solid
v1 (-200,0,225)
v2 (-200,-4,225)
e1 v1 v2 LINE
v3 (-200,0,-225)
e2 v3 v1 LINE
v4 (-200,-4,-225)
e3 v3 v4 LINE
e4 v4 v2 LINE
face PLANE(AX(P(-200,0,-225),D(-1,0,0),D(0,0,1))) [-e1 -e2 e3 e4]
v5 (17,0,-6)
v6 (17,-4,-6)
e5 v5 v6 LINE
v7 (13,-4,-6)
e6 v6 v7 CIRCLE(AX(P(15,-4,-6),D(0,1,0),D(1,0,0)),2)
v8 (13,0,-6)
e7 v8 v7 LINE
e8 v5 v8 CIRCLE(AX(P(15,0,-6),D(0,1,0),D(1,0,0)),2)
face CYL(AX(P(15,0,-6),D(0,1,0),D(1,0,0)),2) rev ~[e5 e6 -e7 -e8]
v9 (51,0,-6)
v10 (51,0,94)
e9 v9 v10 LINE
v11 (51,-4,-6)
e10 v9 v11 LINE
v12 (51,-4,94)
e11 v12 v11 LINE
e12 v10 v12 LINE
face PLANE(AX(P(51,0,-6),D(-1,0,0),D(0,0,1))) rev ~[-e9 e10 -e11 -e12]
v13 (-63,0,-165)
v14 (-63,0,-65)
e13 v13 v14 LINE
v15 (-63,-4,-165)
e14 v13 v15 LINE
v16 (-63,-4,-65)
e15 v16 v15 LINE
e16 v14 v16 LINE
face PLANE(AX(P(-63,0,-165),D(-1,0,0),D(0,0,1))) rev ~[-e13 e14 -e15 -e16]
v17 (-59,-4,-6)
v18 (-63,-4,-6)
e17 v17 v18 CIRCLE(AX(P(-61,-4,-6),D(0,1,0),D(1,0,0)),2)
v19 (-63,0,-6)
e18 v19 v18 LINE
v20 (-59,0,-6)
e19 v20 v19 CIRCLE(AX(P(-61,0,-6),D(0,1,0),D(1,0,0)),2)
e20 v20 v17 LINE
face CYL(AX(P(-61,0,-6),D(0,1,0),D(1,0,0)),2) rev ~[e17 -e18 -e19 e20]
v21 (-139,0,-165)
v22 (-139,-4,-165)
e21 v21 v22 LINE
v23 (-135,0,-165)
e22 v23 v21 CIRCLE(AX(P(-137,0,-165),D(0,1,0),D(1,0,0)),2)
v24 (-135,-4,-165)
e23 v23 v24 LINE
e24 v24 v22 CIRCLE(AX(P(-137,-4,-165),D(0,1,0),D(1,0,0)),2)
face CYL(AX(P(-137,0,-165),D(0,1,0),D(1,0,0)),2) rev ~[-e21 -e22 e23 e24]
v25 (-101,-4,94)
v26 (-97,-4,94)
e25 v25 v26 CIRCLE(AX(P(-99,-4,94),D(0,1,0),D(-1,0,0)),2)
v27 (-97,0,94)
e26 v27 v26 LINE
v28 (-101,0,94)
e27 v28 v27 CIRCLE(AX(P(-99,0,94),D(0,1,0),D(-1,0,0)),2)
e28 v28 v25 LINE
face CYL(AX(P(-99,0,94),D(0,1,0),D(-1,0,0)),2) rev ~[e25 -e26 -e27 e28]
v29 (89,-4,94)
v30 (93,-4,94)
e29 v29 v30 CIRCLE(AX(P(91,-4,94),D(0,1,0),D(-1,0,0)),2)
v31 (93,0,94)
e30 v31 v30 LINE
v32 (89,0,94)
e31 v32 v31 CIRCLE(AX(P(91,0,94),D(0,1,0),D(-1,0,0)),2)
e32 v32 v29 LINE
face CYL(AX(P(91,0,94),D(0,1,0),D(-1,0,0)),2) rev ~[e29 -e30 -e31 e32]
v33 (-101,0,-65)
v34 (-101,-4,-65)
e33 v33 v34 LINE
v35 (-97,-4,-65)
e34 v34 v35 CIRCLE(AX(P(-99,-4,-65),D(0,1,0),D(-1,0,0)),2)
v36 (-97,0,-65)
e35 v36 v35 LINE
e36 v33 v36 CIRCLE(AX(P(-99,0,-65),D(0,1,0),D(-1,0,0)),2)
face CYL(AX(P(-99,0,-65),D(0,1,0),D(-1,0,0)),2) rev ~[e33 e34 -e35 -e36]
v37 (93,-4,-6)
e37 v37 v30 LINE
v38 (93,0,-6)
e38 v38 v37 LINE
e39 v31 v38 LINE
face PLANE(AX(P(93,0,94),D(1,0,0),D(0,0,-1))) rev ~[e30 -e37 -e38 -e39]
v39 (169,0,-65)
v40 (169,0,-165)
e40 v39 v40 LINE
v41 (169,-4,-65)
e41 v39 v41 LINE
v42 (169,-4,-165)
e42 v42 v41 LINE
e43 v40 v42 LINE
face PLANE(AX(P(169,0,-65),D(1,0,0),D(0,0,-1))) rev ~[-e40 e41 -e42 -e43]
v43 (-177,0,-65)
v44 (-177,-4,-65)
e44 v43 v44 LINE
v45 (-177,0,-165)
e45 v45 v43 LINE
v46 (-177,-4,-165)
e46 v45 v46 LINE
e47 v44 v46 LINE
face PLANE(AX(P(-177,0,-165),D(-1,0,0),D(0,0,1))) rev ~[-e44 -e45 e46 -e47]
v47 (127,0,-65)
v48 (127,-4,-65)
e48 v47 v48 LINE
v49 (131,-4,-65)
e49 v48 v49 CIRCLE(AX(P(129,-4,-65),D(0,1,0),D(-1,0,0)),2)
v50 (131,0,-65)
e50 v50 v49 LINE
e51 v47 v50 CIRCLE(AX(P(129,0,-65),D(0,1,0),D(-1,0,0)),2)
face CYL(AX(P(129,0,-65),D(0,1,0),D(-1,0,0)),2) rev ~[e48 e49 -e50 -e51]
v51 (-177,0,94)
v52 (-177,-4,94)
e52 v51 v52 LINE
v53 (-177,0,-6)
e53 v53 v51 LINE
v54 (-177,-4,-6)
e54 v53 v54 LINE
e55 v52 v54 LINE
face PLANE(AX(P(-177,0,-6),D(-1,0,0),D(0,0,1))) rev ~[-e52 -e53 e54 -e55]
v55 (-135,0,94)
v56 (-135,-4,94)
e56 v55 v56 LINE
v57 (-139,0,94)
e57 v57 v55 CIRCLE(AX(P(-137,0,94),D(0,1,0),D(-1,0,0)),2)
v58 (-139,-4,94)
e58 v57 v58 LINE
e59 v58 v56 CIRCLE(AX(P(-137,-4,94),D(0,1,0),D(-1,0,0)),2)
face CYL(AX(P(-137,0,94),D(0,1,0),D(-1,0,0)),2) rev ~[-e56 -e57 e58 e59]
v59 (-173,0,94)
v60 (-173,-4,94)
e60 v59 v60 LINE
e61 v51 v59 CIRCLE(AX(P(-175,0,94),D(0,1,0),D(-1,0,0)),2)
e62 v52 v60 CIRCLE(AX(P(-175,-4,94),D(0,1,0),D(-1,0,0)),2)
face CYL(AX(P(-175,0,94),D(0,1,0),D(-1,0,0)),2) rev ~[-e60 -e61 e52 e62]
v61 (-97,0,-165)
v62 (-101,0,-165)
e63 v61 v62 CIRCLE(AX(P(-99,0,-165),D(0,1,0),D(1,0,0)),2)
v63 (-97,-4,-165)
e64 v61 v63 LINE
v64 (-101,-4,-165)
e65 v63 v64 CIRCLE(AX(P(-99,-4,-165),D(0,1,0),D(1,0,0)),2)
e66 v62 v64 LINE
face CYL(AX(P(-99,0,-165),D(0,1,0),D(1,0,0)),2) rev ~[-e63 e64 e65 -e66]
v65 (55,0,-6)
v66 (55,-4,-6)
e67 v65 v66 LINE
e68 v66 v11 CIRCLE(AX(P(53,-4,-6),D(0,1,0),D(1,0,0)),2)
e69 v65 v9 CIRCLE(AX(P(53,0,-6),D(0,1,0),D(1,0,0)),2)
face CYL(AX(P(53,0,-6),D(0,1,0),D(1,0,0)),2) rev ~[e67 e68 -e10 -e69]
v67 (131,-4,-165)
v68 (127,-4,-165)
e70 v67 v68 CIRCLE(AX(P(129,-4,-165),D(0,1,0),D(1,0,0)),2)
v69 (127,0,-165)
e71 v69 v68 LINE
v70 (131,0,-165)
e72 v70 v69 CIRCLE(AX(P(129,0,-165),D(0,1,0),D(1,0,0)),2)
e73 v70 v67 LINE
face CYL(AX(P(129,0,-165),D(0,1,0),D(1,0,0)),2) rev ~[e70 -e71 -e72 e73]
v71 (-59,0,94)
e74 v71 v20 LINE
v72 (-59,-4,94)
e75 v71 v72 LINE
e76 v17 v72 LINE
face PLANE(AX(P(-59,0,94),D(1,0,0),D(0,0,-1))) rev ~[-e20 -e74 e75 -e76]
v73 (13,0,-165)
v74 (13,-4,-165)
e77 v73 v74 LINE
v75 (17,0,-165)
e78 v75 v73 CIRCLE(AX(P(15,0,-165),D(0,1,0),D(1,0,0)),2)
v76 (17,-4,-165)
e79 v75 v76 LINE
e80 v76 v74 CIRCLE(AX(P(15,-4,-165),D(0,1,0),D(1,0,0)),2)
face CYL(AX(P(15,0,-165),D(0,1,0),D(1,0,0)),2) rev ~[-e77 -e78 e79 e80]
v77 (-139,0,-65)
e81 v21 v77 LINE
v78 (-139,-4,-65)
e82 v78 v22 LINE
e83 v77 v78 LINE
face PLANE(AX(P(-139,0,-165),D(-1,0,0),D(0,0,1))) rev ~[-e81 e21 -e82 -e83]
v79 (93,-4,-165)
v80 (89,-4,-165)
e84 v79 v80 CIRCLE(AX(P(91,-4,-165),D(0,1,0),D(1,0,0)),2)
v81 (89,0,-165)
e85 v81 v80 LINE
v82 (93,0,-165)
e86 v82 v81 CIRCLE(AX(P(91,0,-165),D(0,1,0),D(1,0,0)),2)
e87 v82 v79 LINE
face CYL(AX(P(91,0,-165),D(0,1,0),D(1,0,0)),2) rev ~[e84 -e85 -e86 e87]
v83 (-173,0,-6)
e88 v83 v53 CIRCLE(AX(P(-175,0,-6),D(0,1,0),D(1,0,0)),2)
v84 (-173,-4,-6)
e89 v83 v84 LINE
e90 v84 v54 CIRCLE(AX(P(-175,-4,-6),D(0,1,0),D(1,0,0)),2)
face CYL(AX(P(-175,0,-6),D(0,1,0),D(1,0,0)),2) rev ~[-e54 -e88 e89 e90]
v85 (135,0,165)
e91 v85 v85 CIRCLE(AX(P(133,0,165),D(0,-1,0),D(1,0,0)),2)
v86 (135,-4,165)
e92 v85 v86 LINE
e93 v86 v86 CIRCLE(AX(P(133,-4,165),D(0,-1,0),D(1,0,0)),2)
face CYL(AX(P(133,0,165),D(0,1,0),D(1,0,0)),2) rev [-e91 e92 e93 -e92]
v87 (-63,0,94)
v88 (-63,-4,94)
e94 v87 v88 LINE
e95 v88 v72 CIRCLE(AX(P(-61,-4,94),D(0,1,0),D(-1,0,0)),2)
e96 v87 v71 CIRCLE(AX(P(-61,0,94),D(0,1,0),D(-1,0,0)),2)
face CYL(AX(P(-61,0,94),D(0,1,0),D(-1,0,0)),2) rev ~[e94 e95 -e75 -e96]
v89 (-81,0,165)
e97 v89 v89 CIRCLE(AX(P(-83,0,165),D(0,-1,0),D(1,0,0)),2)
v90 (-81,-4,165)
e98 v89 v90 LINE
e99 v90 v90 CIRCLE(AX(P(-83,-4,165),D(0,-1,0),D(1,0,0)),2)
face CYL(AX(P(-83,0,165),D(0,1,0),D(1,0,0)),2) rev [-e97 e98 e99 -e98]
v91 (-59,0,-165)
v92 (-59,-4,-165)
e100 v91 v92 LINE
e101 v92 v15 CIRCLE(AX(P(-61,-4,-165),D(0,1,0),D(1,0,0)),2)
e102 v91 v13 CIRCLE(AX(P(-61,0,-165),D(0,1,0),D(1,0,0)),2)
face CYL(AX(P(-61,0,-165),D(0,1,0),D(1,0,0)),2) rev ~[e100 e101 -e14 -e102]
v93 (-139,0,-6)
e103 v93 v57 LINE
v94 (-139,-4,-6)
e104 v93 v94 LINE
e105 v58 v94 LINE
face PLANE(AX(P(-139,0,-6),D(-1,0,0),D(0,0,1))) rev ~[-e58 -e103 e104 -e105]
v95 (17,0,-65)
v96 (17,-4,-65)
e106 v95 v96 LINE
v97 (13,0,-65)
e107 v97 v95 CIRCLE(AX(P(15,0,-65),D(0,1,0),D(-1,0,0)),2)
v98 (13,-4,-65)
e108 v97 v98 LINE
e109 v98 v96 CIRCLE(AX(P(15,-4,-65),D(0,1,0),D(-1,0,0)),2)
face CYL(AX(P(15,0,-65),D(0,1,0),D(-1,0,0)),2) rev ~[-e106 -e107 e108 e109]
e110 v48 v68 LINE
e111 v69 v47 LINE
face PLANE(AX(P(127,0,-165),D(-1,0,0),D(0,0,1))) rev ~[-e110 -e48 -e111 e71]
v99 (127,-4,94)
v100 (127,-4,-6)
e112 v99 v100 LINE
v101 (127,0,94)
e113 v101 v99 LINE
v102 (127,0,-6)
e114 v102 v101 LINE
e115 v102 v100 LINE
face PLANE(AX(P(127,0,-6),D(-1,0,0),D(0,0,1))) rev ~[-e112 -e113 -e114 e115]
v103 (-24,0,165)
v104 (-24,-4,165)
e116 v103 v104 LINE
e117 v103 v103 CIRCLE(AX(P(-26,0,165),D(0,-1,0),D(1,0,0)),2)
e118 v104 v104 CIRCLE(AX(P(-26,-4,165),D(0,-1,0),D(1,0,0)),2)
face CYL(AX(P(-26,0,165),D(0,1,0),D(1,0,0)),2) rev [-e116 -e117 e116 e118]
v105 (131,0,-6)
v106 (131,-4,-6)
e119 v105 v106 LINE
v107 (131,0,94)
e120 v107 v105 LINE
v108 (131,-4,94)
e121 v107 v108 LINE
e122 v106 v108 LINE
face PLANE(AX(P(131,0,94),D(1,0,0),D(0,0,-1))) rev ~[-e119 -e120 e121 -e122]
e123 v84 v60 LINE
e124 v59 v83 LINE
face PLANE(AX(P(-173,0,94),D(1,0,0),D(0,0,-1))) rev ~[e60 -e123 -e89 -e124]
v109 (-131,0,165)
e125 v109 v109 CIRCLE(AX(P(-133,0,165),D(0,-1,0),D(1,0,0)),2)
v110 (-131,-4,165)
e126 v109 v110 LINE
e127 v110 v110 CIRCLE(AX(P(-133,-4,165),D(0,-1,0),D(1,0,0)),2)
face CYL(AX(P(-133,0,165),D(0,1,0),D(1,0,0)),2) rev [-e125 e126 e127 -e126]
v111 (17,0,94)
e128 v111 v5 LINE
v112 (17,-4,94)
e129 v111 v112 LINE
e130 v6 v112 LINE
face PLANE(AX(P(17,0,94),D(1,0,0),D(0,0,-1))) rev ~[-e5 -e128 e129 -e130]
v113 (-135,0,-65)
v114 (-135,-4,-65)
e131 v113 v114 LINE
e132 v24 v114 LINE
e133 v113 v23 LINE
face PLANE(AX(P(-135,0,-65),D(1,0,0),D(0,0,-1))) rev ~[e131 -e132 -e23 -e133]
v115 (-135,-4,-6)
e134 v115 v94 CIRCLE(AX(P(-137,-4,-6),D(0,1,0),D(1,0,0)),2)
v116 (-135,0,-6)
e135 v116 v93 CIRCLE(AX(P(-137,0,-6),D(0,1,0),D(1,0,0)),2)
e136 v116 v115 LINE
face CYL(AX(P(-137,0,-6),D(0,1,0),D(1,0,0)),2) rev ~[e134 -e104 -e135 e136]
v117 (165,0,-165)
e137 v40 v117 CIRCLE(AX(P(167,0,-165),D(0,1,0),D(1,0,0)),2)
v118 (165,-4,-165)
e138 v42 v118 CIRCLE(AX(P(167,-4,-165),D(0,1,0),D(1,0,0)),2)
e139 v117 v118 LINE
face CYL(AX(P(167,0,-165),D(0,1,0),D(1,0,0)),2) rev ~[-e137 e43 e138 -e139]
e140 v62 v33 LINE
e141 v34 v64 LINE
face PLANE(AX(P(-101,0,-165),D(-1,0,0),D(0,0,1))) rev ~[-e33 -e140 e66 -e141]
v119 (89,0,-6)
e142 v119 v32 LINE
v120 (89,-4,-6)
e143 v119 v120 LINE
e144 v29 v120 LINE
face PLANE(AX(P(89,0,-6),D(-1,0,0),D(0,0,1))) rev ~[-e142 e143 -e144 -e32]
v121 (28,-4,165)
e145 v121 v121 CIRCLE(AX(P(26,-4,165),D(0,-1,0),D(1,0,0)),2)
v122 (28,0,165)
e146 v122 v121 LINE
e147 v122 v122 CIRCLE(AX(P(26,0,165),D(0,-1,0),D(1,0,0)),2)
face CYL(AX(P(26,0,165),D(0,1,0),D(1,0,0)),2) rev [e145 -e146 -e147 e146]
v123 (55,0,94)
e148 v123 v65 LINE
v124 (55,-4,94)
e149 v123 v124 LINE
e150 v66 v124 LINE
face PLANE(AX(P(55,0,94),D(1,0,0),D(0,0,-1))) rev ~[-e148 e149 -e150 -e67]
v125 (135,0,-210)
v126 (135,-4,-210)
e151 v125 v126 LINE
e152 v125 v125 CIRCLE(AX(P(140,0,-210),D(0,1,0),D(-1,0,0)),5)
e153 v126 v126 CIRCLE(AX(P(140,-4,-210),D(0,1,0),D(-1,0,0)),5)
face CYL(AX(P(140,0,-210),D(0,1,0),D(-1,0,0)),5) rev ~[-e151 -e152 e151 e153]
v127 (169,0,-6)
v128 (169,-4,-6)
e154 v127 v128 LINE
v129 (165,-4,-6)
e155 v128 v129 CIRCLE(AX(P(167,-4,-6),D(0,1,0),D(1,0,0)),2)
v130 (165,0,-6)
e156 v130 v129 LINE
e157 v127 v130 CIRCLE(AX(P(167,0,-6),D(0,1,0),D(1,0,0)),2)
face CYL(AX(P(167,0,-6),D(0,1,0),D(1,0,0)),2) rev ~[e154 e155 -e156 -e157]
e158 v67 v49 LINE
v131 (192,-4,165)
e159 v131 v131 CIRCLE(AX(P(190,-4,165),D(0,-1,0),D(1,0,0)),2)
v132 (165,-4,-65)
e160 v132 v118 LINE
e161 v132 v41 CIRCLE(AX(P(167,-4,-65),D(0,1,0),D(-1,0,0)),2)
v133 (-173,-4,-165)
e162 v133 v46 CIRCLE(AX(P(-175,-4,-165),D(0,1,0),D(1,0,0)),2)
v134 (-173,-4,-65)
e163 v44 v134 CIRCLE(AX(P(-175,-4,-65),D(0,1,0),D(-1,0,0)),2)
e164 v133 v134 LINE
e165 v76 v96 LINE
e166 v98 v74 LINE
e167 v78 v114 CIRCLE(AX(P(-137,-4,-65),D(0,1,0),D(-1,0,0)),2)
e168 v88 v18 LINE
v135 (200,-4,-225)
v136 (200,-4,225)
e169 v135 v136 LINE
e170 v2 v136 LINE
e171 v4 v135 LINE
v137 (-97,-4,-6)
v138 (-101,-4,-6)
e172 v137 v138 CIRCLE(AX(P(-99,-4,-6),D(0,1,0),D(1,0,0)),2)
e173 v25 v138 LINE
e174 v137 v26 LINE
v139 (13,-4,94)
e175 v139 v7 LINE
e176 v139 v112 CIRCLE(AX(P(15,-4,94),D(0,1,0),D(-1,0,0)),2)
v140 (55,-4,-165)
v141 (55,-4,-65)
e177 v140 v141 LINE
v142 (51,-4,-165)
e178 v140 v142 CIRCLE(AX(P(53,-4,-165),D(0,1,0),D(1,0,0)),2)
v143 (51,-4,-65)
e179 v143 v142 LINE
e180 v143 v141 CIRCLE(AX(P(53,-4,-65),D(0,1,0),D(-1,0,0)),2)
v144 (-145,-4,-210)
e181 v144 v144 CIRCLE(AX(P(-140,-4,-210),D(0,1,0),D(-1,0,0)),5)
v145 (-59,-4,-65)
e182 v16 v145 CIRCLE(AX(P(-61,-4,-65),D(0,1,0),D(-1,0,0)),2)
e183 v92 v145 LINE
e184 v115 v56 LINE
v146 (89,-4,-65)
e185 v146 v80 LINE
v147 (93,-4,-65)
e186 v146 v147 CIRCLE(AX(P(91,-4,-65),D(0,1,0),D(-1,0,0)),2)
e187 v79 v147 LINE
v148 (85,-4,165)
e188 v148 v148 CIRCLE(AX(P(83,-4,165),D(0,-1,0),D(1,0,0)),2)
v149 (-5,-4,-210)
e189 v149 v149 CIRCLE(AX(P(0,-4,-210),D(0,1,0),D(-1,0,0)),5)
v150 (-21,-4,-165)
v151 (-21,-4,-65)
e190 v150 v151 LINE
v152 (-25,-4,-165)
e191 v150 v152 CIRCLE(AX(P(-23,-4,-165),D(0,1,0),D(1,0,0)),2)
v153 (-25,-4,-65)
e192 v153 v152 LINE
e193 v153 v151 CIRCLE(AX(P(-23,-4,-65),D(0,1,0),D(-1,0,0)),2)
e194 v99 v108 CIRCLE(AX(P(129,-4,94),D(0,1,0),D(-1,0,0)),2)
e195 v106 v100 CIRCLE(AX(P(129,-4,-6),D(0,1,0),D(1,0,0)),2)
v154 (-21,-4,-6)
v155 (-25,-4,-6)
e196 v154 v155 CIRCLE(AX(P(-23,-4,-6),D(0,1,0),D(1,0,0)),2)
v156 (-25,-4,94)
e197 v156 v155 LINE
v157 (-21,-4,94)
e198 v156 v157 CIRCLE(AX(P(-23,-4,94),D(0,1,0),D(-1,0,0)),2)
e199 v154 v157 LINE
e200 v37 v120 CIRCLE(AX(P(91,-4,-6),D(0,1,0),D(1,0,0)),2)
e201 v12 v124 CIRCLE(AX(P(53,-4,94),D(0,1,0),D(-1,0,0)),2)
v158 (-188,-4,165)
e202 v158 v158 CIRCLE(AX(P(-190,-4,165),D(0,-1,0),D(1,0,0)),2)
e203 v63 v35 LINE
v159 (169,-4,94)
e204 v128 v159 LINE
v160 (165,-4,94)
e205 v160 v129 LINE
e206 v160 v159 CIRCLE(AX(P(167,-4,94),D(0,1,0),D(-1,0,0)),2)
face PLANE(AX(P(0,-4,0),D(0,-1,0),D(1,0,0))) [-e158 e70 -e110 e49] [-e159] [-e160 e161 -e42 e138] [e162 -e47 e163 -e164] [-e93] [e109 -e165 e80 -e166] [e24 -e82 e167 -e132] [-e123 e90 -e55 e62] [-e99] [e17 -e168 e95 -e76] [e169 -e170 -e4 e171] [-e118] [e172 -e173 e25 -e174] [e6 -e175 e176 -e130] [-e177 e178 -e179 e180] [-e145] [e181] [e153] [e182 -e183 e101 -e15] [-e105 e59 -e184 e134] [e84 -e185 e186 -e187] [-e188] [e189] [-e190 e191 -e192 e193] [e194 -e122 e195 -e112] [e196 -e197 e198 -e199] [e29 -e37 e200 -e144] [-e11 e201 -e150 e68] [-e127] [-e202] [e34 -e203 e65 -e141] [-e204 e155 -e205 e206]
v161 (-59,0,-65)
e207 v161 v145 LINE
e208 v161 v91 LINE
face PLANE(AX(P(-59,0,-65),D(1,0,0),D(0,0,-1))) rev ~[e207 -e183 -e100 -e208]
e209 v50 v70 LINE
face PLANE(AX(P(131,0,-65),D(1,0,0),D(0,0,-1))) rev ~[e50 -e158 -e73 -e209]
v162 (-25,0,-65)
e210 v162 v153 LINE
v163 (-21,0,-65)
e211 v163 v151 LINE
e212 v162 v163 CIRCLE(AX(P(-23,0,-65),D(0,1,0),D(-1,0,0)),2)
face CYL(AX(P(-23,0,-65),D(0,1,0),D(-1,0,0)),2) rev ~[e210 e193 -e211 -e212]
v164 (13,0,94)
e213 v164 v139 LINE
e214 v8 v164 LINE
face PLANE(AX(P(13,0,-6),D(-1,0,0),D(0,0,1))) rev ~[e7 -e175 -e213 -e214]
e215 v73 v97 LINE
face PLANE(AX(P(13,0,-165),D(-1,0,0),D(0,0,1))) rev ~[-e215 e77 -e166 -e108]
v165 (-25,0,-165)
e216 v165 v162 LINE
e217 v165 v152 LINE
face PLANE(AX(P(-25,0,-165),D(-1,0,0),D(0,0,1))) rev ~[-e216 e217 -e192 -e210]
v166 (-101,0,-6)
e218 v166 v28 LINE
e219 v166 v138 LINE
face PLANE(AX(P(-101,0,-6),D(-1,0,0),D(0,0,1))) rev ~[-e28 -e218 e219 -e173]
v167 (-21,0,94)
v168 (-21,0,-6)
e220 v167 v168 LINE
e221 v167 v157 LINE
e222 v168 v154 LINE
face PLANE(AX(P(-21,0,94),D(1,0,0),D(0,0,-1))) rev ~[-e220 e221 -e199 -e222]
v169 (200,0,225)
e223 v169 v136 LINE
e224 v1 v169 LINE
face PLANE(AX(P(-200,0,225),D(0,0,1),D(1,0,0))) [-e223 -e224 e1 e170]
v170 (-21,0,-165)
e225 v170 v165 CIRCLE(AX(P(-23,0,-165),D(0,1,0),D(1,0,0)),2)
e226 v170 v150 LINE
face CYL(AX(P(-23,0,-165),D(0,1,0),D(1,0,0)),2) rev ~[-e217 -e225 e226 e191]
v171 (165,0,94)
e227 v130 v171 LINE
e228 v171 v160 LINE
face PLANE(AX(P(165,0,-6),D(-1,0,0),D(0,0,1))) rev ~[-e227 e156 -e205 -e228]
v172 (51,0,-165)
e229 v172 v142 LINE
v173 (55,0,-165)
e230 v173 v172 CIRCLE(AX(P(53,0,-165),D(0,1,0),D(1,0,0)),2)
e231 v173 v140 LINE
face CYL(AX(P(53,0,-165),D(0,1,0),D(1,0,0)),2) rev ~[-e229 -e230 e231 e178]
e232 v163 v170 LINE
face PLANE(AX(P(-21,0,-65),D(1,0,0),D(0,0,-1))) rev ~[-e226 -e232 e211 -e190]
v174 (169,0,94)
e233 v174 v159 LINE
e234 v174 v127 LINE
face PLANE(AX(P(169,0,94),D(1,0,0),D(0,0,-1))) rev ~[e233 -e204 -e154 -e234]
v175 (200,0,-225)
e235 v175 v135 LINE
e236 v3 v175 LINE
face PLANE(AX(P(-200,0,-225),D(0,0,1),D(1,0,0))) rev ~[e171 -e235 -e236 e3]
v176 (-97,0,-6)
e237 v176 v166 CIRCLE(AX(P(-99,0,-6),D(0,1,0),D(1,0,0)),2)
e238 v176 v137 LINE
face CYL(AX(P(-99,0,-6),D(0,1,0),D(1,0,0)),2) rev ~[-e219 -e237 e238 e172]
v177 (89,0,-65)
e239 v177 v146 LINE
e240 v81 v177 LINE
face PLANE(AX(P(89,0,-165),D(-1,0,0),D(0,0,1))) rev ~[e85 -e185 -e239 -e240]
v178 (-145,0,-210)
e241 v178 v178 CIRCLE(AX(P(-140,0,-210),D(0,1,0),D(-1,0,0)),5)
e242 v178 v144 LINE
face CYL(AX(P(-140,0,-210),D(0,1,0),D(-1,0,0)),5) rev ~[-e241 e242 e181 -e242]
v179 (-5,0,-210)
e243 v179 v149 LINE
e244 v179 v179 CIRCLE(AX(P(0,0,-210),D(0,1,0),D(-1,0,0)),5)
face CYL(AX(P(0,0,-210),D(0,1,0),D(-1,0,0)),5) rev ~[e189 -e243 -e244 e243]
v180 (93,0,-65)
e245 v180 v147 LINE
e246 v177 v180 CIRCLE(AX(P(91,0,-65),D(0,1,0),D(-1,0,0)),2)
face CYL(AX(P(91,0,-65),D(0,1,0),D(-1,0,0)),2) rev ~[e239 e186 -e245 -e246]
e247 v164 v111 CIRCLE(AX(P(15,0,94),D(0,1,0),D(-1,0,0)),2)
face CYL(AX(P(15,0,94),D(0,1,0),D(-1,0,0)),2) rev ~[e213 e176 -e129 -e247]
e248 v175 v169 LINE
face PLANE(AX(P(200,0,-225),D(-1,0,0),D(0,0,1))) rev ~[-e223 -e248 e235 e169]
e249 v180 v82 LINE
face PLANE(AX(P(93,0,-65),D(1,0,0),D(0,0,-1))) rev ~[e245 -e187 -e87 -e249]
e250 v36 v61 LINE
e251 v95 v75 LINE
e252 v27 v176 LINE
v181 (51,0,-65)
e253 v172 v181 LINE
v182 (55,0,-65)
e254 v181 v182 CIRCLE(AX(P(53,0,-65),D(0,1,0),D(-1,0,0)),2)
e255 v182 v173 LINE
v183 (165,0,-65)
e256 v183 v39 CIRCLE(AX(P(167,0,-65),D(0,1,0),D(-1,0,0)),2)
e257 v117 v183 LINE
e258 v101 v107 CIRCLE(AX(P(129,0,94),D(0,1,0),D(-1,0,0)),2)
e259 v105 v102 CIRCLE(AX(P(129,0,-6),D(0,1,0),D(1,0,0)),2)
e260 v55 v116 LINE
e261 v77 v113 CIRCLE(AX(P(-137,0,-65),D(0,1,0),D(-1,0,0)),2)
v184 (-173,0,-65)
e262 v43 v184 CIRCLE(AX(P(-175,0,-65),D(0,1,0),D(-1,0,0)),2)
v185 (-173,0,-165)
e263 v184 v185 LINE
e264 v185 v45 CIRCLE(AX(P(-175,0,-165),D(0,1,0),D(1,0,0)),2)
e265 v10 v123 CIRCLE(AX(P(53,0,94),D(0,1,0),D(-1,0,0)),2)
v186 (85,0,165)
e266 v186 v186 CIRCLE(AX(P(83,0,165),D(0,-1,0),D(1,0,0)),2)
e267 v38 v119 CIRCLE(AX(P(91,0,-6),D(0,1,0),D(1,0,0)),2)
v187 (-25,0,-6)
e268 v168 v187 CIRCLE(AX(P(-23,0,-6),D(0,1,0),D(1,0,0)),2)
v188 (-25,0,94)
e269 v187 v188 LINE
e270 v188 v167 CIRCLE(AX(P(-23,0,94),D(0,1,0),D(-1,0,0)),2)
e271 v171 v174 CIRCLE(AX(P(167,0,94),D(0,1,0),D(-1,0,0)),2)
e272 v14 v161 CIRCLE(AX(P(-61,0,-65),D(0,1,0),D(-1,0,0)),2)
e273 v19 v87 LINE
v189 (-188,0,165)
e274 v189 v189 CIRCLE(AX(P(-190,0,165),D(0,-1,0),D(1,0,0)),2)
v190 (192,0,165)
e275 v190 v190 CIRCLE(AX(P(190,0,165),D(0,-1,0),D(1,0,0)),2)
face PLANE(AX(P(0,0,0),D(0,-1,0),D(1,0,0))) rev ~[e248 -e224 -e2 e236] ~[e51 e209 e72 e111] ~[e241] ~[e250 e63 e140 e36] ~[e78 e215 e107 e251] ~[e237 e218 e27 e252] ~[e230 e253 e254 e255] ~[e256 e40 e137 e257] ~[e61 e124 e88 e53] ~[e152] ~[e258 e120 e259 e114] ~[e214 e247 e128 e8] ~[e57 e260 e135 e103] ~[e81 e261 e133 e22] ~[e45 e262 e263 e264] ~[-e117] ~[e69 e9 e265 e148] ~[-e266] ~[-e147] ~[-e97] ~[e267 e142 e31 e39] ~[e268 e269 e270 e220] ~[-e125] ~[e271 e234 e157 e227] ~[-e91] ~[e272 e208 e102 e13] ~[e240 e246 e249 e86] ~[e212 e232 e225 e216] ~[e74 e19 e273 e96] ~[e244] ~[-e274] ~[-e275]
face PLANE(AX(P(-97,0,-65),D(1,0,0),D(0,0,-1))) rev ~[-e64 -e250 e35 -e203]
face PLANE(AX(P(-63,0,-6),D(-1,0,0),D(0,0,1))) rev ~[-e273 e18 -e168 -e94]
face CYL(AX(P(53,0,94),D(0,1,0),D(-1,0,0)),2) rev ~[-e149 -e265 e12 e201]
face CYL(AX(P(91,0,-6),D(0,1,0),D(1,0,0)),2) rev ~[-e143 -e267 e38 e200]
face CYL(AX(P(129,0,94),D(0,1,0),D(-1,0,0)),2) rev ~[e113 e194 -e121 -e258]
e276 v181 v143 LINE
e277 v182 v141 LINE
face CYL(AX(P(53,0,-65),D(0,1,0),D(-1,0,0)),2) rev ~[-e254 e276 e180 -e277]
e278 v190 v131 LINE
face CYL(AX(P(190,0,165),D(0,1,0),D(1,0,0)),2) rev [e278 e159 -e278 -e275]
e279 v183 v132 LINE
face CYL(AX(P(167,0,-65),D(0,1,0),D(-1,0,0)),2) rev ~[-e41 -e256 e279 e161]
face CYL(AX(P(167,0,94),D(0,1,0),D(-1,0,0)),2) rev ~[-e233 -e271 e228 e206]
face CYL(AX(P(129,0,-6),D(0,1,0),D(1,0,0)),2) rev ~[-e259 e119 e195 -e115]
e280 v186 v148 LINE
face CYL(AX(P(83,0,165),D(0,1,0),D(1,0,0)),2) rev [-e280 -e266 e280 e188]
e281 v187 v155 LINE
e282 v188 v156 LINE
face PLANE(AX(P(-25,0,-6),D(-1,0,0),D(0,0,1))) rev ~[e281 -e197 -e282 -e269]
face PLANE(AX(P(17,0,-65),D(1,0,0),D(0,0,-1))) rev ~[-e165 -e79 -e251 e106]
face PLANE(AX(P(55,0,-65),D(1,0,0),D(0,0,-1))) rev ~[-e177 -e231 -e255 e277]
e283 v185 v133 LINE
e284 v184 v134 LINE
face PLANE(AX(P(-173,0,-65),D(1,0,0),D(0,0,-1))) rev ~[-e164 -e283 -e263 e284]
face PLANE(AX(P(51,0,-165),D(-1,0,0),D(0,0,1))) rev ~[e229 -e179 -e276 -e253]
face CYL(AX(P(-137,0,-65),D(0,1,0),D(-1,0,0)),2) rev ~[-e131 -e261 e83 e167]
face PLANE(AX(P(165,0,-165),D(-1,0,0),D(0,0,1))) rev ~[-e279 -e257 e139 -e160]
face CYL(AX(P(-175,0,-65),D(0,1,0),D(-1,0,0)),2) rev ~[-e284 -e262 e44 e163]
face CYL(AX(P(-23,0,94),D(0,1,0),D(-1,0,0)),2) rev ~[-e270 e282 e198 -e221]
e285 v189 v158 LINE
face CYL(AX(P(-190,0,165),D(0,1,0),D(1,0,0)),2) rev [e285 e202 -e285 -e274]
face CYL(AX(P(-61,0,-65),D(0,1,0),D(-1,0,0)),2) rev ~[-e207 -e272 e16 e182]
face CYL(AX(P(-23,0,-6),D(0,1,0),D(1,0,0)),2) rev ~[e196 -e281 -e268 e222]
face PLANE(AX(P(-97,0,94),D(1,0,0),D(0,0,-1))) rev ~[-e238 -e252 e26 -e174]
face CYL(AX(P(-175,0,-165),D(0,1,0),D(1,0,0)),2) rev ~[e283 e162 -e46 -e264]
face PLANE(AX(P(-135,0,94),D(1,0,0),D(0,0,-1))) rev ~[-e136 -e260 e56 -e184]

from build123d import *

# Parameters (mm, degrees)
F0_W     = 400
F0_H     = 450
F0_R     = 2
F1_DEPTH = 4
F2_R     = 5
F3_DEPTH = 25
F5_DEPTH = 25


with BuildPart() as f1:
    # F0 (on Front) → F1 (new body)
    with BuildSketch(Plane.XZ):
        Rectangle(F0_W, F0_H)
        with Locations((-190, 165)):
            Circle(F0_R, mode=Mode.SUBTRACT)
        with Locations((-133, 165)):
            Circle(F0_R, mode=Mode.SUBTRACT)
        with Locations((-83, 165)):
            Circle(F0_R, mode=Mode.SUBTRACT)
        with Locations((-26, 165)):
            Circle(F0_R, mode=Mode.SUBTRACT)
        with Locations((26, 165)):
            Circle(F0_R, mode=Mode.SUBTRACT)
        with Locations((83, 165)):
            Circle(F0_R, mode=Mode.SUBTRACT)
        with Locations((133, 165)):
            Circle(F0_R, mode=Mode.SUBTRACT)
        with Locations((190, 165)):
            Circle(F0_R, mode=Mode.SUBTRACT)
    extrude(amount=F1_DEPTH)

    # F2 (on face) → F3 (cut)
    with BuildSketch(Plane(origin=(0, 0, 0), x_dir=(-1, 0, 0), z_dir=(0, 1, 0))):
        with Locations((0, -210)):
            Circle(F2_R)
        with Locations((140, -210)):
            Circle(F2_R)
        with Locations((-140, -210)):
            Circle(F2_R)
    extrude(amount=-F3_DEPTH, mode=Mode.SUBTRACT)

    # F4 (on face) → F5 (cut)
    with BuildSketch(Plane(origin=(0, 0, 0), x_dir=(-1, 0, 0), z_dir=(0, 1, 0))):
        with BuildLine():
            ThreePointArc((173, -165), (175, -167), (177, -165))
            Line((177, -165), (177, -65))
            ThreePointArc((177, -65), (175, -63), (173, -65))
            Line((173, -65), (173, -165))
        make_face()
        with BuildLine():
            Line((173, 94), (173, -6))
            ThreePointArc((173, -6), (175, -8), (177, -6))
            Line((177, -6), (177, 94))
            ThreePointArc((177, 94), (175, 96), (173, 94))
        make_face()
        with BuildLine():
            Line((135, -65), (135, -165))
            ThreePointArc((135, -165), (137, -167), (139, -165))
            Line((139, -165), (139, -65))
            ThreePointArc((139, -65), (137, -63), (135, -65))
        make_face()
        with BuildLine():
            Line((135, 94), (135, -6))
            ThreePointArc((135, -6), (137, -8), (139, -6))
            Line((139, -6), (139, 94))
            ThreePointArc((139, 94), (137, 96), (135, 94))
        make_face()
        with BuildLine():
            Line((97, -65), (97, -165))
            ThreePointArc((97, -165), (99, -167), (101, -165))
            Line((101, -165), (101, -65))
            ThreePointArc((101, -65), (99, -63), (97, -65))
        make_face()
        with BuildLine():
            Line((97, 94), (97, -6))
            ThreePointArc((97, -6), (99, -8), (101, -6))
            Line((101, -6), (101, 94))
            ThreePointArc((101, 94), (99, 96), (97, 94))
        make_face()
        with BuildLine():
            Line((59, -65), (59, -165))
            ThreePointArc((59, -165), (61, -167), (63, -165))
            Line((63, -165), (63, -65))
            ThreePointArc((63, -65), (61, -63), (59, -65))
        make_face()
        with BuildLine():
            Line((59, 94), (59, -6))
            ThreePointArc((59, -6), (61, -8), (63, -6))
            Line((63, -6), (63, 94))
            ThreePointArc((63, 94), (61, 96), (59, 94))
        make_face()
        with BuildLine():
            Line((21, -65), (21, -165))
            ThreePointArc((21, -165), (23, -167), (25, -165))
            Line((25, -165), (25, -65))
            ThreePointArc((25, -65), (23, -63), (21, -65))
        make_face()
        with BuildLine():
            Line((21, 94), (21, -6))
            ThreePointArc((21, -6), (23, -8), (25, -6))
            Line((25, -6), (25, 94))
            ThreePointArc((25, 94), (23, 96), (21, 94))
        make_face()
        with BuildLine():
            Line((-17, -65), (-17, -165))
            ThreePointArc((-17, -165), (-15, -167), (-13, -165))
            Line((-13, -165), (-13, -65))
            ThreePointArc((-13, -65), (-15, -63), (-17, -65))
        make_face()
        with BuildLine():
            Line((-17, 94), (-17, -6))
            ThreePointArc((-17, -6), (-15, -8), (-13, -6))
            Line((-13, -6), (-13, 94))
            ThreePointArc((-13, 94), (-15, 96), (-17, 94))
        make_face()
        with BuildLine():
            Line((-55, -65), (-55, -165))
            ThreePointArc((-55, -165), (-53, -167), (-51, -165))
            Line((-51, -165), (-51, -65))
            ThreePointArc((-51, -65), (-53, -63), (-55, -65))
        make_face()
        with BuildLine():
            Line((-55, 94), (-55, -6))
            ThreePointArc((-55, -6), (-53, -8), (-51, -6))
            Line((-51, -6), (-51, 94))
            ThreePointArc((-51, 94), (-53, 96), (-55, 94))
        make_face()
        with BuildLine():
            Line((-93, -65), (-93, -165))
            ThreePointArc((-93, -165), (-91, -167), (-89, -165))
            Line((-89, -165), (-89, -65))
            ThreePointArc((-89, -65), (-91, -63), (-93, -65))
        make_face()
        with BuildLine():
            Line((-93, 94), (-93, -6))
            ThreePointArc((-93, -6), (-91, -8), (-89, -6))
            Line((-89, -6), (-89, 94))
            ThreePointArc((-89, 94), (-91, 96), (-93, 94))
        make_face()
        with BuildLine():
            Line((-131, -65), (-131, -165))
            ThreePointArc((-131, -165), (-129, -167), (-127, -165))
            Line((-127, -165), (-127, -65))
            ThreePointArc((-127, -65), (-129, -63), (-131, -65))
        make_face()
        with BuildLine():
            Line((-131, 94), (-131, -6))
            ThreePointArc((-131, -6), (-129, -8), (-127, -6))
            Line((-127, -6), (-127, 94))
            ThreePointArc((-127, 94), (-129, 96), (-131, 94))
        make_face()
        with BuildLine():
            Line((-169, -65), (-169, -165))
            ThreePointArc((-169, -165), (-167, -167), (-165, -165))
            Line((-165, -165), (-165, -65))
            ThreePointArc((-165, -65), (-167, -63), (-169, -65))
        make_face()
        with BuildLine():
            Line((-169, 94), (-169, -6))
            ThreePointArc((-169, -6), (-167, -8), (-165, -6))
            Line((-165, -6), (-165, 94))
            ThreePointArc((-165, 94), (-167, 96), (-169, 94))
        make_face()
    extrude(amount=-F5_DEPTH, mode=Mode.SUBTRACT)


solid = f1.part
